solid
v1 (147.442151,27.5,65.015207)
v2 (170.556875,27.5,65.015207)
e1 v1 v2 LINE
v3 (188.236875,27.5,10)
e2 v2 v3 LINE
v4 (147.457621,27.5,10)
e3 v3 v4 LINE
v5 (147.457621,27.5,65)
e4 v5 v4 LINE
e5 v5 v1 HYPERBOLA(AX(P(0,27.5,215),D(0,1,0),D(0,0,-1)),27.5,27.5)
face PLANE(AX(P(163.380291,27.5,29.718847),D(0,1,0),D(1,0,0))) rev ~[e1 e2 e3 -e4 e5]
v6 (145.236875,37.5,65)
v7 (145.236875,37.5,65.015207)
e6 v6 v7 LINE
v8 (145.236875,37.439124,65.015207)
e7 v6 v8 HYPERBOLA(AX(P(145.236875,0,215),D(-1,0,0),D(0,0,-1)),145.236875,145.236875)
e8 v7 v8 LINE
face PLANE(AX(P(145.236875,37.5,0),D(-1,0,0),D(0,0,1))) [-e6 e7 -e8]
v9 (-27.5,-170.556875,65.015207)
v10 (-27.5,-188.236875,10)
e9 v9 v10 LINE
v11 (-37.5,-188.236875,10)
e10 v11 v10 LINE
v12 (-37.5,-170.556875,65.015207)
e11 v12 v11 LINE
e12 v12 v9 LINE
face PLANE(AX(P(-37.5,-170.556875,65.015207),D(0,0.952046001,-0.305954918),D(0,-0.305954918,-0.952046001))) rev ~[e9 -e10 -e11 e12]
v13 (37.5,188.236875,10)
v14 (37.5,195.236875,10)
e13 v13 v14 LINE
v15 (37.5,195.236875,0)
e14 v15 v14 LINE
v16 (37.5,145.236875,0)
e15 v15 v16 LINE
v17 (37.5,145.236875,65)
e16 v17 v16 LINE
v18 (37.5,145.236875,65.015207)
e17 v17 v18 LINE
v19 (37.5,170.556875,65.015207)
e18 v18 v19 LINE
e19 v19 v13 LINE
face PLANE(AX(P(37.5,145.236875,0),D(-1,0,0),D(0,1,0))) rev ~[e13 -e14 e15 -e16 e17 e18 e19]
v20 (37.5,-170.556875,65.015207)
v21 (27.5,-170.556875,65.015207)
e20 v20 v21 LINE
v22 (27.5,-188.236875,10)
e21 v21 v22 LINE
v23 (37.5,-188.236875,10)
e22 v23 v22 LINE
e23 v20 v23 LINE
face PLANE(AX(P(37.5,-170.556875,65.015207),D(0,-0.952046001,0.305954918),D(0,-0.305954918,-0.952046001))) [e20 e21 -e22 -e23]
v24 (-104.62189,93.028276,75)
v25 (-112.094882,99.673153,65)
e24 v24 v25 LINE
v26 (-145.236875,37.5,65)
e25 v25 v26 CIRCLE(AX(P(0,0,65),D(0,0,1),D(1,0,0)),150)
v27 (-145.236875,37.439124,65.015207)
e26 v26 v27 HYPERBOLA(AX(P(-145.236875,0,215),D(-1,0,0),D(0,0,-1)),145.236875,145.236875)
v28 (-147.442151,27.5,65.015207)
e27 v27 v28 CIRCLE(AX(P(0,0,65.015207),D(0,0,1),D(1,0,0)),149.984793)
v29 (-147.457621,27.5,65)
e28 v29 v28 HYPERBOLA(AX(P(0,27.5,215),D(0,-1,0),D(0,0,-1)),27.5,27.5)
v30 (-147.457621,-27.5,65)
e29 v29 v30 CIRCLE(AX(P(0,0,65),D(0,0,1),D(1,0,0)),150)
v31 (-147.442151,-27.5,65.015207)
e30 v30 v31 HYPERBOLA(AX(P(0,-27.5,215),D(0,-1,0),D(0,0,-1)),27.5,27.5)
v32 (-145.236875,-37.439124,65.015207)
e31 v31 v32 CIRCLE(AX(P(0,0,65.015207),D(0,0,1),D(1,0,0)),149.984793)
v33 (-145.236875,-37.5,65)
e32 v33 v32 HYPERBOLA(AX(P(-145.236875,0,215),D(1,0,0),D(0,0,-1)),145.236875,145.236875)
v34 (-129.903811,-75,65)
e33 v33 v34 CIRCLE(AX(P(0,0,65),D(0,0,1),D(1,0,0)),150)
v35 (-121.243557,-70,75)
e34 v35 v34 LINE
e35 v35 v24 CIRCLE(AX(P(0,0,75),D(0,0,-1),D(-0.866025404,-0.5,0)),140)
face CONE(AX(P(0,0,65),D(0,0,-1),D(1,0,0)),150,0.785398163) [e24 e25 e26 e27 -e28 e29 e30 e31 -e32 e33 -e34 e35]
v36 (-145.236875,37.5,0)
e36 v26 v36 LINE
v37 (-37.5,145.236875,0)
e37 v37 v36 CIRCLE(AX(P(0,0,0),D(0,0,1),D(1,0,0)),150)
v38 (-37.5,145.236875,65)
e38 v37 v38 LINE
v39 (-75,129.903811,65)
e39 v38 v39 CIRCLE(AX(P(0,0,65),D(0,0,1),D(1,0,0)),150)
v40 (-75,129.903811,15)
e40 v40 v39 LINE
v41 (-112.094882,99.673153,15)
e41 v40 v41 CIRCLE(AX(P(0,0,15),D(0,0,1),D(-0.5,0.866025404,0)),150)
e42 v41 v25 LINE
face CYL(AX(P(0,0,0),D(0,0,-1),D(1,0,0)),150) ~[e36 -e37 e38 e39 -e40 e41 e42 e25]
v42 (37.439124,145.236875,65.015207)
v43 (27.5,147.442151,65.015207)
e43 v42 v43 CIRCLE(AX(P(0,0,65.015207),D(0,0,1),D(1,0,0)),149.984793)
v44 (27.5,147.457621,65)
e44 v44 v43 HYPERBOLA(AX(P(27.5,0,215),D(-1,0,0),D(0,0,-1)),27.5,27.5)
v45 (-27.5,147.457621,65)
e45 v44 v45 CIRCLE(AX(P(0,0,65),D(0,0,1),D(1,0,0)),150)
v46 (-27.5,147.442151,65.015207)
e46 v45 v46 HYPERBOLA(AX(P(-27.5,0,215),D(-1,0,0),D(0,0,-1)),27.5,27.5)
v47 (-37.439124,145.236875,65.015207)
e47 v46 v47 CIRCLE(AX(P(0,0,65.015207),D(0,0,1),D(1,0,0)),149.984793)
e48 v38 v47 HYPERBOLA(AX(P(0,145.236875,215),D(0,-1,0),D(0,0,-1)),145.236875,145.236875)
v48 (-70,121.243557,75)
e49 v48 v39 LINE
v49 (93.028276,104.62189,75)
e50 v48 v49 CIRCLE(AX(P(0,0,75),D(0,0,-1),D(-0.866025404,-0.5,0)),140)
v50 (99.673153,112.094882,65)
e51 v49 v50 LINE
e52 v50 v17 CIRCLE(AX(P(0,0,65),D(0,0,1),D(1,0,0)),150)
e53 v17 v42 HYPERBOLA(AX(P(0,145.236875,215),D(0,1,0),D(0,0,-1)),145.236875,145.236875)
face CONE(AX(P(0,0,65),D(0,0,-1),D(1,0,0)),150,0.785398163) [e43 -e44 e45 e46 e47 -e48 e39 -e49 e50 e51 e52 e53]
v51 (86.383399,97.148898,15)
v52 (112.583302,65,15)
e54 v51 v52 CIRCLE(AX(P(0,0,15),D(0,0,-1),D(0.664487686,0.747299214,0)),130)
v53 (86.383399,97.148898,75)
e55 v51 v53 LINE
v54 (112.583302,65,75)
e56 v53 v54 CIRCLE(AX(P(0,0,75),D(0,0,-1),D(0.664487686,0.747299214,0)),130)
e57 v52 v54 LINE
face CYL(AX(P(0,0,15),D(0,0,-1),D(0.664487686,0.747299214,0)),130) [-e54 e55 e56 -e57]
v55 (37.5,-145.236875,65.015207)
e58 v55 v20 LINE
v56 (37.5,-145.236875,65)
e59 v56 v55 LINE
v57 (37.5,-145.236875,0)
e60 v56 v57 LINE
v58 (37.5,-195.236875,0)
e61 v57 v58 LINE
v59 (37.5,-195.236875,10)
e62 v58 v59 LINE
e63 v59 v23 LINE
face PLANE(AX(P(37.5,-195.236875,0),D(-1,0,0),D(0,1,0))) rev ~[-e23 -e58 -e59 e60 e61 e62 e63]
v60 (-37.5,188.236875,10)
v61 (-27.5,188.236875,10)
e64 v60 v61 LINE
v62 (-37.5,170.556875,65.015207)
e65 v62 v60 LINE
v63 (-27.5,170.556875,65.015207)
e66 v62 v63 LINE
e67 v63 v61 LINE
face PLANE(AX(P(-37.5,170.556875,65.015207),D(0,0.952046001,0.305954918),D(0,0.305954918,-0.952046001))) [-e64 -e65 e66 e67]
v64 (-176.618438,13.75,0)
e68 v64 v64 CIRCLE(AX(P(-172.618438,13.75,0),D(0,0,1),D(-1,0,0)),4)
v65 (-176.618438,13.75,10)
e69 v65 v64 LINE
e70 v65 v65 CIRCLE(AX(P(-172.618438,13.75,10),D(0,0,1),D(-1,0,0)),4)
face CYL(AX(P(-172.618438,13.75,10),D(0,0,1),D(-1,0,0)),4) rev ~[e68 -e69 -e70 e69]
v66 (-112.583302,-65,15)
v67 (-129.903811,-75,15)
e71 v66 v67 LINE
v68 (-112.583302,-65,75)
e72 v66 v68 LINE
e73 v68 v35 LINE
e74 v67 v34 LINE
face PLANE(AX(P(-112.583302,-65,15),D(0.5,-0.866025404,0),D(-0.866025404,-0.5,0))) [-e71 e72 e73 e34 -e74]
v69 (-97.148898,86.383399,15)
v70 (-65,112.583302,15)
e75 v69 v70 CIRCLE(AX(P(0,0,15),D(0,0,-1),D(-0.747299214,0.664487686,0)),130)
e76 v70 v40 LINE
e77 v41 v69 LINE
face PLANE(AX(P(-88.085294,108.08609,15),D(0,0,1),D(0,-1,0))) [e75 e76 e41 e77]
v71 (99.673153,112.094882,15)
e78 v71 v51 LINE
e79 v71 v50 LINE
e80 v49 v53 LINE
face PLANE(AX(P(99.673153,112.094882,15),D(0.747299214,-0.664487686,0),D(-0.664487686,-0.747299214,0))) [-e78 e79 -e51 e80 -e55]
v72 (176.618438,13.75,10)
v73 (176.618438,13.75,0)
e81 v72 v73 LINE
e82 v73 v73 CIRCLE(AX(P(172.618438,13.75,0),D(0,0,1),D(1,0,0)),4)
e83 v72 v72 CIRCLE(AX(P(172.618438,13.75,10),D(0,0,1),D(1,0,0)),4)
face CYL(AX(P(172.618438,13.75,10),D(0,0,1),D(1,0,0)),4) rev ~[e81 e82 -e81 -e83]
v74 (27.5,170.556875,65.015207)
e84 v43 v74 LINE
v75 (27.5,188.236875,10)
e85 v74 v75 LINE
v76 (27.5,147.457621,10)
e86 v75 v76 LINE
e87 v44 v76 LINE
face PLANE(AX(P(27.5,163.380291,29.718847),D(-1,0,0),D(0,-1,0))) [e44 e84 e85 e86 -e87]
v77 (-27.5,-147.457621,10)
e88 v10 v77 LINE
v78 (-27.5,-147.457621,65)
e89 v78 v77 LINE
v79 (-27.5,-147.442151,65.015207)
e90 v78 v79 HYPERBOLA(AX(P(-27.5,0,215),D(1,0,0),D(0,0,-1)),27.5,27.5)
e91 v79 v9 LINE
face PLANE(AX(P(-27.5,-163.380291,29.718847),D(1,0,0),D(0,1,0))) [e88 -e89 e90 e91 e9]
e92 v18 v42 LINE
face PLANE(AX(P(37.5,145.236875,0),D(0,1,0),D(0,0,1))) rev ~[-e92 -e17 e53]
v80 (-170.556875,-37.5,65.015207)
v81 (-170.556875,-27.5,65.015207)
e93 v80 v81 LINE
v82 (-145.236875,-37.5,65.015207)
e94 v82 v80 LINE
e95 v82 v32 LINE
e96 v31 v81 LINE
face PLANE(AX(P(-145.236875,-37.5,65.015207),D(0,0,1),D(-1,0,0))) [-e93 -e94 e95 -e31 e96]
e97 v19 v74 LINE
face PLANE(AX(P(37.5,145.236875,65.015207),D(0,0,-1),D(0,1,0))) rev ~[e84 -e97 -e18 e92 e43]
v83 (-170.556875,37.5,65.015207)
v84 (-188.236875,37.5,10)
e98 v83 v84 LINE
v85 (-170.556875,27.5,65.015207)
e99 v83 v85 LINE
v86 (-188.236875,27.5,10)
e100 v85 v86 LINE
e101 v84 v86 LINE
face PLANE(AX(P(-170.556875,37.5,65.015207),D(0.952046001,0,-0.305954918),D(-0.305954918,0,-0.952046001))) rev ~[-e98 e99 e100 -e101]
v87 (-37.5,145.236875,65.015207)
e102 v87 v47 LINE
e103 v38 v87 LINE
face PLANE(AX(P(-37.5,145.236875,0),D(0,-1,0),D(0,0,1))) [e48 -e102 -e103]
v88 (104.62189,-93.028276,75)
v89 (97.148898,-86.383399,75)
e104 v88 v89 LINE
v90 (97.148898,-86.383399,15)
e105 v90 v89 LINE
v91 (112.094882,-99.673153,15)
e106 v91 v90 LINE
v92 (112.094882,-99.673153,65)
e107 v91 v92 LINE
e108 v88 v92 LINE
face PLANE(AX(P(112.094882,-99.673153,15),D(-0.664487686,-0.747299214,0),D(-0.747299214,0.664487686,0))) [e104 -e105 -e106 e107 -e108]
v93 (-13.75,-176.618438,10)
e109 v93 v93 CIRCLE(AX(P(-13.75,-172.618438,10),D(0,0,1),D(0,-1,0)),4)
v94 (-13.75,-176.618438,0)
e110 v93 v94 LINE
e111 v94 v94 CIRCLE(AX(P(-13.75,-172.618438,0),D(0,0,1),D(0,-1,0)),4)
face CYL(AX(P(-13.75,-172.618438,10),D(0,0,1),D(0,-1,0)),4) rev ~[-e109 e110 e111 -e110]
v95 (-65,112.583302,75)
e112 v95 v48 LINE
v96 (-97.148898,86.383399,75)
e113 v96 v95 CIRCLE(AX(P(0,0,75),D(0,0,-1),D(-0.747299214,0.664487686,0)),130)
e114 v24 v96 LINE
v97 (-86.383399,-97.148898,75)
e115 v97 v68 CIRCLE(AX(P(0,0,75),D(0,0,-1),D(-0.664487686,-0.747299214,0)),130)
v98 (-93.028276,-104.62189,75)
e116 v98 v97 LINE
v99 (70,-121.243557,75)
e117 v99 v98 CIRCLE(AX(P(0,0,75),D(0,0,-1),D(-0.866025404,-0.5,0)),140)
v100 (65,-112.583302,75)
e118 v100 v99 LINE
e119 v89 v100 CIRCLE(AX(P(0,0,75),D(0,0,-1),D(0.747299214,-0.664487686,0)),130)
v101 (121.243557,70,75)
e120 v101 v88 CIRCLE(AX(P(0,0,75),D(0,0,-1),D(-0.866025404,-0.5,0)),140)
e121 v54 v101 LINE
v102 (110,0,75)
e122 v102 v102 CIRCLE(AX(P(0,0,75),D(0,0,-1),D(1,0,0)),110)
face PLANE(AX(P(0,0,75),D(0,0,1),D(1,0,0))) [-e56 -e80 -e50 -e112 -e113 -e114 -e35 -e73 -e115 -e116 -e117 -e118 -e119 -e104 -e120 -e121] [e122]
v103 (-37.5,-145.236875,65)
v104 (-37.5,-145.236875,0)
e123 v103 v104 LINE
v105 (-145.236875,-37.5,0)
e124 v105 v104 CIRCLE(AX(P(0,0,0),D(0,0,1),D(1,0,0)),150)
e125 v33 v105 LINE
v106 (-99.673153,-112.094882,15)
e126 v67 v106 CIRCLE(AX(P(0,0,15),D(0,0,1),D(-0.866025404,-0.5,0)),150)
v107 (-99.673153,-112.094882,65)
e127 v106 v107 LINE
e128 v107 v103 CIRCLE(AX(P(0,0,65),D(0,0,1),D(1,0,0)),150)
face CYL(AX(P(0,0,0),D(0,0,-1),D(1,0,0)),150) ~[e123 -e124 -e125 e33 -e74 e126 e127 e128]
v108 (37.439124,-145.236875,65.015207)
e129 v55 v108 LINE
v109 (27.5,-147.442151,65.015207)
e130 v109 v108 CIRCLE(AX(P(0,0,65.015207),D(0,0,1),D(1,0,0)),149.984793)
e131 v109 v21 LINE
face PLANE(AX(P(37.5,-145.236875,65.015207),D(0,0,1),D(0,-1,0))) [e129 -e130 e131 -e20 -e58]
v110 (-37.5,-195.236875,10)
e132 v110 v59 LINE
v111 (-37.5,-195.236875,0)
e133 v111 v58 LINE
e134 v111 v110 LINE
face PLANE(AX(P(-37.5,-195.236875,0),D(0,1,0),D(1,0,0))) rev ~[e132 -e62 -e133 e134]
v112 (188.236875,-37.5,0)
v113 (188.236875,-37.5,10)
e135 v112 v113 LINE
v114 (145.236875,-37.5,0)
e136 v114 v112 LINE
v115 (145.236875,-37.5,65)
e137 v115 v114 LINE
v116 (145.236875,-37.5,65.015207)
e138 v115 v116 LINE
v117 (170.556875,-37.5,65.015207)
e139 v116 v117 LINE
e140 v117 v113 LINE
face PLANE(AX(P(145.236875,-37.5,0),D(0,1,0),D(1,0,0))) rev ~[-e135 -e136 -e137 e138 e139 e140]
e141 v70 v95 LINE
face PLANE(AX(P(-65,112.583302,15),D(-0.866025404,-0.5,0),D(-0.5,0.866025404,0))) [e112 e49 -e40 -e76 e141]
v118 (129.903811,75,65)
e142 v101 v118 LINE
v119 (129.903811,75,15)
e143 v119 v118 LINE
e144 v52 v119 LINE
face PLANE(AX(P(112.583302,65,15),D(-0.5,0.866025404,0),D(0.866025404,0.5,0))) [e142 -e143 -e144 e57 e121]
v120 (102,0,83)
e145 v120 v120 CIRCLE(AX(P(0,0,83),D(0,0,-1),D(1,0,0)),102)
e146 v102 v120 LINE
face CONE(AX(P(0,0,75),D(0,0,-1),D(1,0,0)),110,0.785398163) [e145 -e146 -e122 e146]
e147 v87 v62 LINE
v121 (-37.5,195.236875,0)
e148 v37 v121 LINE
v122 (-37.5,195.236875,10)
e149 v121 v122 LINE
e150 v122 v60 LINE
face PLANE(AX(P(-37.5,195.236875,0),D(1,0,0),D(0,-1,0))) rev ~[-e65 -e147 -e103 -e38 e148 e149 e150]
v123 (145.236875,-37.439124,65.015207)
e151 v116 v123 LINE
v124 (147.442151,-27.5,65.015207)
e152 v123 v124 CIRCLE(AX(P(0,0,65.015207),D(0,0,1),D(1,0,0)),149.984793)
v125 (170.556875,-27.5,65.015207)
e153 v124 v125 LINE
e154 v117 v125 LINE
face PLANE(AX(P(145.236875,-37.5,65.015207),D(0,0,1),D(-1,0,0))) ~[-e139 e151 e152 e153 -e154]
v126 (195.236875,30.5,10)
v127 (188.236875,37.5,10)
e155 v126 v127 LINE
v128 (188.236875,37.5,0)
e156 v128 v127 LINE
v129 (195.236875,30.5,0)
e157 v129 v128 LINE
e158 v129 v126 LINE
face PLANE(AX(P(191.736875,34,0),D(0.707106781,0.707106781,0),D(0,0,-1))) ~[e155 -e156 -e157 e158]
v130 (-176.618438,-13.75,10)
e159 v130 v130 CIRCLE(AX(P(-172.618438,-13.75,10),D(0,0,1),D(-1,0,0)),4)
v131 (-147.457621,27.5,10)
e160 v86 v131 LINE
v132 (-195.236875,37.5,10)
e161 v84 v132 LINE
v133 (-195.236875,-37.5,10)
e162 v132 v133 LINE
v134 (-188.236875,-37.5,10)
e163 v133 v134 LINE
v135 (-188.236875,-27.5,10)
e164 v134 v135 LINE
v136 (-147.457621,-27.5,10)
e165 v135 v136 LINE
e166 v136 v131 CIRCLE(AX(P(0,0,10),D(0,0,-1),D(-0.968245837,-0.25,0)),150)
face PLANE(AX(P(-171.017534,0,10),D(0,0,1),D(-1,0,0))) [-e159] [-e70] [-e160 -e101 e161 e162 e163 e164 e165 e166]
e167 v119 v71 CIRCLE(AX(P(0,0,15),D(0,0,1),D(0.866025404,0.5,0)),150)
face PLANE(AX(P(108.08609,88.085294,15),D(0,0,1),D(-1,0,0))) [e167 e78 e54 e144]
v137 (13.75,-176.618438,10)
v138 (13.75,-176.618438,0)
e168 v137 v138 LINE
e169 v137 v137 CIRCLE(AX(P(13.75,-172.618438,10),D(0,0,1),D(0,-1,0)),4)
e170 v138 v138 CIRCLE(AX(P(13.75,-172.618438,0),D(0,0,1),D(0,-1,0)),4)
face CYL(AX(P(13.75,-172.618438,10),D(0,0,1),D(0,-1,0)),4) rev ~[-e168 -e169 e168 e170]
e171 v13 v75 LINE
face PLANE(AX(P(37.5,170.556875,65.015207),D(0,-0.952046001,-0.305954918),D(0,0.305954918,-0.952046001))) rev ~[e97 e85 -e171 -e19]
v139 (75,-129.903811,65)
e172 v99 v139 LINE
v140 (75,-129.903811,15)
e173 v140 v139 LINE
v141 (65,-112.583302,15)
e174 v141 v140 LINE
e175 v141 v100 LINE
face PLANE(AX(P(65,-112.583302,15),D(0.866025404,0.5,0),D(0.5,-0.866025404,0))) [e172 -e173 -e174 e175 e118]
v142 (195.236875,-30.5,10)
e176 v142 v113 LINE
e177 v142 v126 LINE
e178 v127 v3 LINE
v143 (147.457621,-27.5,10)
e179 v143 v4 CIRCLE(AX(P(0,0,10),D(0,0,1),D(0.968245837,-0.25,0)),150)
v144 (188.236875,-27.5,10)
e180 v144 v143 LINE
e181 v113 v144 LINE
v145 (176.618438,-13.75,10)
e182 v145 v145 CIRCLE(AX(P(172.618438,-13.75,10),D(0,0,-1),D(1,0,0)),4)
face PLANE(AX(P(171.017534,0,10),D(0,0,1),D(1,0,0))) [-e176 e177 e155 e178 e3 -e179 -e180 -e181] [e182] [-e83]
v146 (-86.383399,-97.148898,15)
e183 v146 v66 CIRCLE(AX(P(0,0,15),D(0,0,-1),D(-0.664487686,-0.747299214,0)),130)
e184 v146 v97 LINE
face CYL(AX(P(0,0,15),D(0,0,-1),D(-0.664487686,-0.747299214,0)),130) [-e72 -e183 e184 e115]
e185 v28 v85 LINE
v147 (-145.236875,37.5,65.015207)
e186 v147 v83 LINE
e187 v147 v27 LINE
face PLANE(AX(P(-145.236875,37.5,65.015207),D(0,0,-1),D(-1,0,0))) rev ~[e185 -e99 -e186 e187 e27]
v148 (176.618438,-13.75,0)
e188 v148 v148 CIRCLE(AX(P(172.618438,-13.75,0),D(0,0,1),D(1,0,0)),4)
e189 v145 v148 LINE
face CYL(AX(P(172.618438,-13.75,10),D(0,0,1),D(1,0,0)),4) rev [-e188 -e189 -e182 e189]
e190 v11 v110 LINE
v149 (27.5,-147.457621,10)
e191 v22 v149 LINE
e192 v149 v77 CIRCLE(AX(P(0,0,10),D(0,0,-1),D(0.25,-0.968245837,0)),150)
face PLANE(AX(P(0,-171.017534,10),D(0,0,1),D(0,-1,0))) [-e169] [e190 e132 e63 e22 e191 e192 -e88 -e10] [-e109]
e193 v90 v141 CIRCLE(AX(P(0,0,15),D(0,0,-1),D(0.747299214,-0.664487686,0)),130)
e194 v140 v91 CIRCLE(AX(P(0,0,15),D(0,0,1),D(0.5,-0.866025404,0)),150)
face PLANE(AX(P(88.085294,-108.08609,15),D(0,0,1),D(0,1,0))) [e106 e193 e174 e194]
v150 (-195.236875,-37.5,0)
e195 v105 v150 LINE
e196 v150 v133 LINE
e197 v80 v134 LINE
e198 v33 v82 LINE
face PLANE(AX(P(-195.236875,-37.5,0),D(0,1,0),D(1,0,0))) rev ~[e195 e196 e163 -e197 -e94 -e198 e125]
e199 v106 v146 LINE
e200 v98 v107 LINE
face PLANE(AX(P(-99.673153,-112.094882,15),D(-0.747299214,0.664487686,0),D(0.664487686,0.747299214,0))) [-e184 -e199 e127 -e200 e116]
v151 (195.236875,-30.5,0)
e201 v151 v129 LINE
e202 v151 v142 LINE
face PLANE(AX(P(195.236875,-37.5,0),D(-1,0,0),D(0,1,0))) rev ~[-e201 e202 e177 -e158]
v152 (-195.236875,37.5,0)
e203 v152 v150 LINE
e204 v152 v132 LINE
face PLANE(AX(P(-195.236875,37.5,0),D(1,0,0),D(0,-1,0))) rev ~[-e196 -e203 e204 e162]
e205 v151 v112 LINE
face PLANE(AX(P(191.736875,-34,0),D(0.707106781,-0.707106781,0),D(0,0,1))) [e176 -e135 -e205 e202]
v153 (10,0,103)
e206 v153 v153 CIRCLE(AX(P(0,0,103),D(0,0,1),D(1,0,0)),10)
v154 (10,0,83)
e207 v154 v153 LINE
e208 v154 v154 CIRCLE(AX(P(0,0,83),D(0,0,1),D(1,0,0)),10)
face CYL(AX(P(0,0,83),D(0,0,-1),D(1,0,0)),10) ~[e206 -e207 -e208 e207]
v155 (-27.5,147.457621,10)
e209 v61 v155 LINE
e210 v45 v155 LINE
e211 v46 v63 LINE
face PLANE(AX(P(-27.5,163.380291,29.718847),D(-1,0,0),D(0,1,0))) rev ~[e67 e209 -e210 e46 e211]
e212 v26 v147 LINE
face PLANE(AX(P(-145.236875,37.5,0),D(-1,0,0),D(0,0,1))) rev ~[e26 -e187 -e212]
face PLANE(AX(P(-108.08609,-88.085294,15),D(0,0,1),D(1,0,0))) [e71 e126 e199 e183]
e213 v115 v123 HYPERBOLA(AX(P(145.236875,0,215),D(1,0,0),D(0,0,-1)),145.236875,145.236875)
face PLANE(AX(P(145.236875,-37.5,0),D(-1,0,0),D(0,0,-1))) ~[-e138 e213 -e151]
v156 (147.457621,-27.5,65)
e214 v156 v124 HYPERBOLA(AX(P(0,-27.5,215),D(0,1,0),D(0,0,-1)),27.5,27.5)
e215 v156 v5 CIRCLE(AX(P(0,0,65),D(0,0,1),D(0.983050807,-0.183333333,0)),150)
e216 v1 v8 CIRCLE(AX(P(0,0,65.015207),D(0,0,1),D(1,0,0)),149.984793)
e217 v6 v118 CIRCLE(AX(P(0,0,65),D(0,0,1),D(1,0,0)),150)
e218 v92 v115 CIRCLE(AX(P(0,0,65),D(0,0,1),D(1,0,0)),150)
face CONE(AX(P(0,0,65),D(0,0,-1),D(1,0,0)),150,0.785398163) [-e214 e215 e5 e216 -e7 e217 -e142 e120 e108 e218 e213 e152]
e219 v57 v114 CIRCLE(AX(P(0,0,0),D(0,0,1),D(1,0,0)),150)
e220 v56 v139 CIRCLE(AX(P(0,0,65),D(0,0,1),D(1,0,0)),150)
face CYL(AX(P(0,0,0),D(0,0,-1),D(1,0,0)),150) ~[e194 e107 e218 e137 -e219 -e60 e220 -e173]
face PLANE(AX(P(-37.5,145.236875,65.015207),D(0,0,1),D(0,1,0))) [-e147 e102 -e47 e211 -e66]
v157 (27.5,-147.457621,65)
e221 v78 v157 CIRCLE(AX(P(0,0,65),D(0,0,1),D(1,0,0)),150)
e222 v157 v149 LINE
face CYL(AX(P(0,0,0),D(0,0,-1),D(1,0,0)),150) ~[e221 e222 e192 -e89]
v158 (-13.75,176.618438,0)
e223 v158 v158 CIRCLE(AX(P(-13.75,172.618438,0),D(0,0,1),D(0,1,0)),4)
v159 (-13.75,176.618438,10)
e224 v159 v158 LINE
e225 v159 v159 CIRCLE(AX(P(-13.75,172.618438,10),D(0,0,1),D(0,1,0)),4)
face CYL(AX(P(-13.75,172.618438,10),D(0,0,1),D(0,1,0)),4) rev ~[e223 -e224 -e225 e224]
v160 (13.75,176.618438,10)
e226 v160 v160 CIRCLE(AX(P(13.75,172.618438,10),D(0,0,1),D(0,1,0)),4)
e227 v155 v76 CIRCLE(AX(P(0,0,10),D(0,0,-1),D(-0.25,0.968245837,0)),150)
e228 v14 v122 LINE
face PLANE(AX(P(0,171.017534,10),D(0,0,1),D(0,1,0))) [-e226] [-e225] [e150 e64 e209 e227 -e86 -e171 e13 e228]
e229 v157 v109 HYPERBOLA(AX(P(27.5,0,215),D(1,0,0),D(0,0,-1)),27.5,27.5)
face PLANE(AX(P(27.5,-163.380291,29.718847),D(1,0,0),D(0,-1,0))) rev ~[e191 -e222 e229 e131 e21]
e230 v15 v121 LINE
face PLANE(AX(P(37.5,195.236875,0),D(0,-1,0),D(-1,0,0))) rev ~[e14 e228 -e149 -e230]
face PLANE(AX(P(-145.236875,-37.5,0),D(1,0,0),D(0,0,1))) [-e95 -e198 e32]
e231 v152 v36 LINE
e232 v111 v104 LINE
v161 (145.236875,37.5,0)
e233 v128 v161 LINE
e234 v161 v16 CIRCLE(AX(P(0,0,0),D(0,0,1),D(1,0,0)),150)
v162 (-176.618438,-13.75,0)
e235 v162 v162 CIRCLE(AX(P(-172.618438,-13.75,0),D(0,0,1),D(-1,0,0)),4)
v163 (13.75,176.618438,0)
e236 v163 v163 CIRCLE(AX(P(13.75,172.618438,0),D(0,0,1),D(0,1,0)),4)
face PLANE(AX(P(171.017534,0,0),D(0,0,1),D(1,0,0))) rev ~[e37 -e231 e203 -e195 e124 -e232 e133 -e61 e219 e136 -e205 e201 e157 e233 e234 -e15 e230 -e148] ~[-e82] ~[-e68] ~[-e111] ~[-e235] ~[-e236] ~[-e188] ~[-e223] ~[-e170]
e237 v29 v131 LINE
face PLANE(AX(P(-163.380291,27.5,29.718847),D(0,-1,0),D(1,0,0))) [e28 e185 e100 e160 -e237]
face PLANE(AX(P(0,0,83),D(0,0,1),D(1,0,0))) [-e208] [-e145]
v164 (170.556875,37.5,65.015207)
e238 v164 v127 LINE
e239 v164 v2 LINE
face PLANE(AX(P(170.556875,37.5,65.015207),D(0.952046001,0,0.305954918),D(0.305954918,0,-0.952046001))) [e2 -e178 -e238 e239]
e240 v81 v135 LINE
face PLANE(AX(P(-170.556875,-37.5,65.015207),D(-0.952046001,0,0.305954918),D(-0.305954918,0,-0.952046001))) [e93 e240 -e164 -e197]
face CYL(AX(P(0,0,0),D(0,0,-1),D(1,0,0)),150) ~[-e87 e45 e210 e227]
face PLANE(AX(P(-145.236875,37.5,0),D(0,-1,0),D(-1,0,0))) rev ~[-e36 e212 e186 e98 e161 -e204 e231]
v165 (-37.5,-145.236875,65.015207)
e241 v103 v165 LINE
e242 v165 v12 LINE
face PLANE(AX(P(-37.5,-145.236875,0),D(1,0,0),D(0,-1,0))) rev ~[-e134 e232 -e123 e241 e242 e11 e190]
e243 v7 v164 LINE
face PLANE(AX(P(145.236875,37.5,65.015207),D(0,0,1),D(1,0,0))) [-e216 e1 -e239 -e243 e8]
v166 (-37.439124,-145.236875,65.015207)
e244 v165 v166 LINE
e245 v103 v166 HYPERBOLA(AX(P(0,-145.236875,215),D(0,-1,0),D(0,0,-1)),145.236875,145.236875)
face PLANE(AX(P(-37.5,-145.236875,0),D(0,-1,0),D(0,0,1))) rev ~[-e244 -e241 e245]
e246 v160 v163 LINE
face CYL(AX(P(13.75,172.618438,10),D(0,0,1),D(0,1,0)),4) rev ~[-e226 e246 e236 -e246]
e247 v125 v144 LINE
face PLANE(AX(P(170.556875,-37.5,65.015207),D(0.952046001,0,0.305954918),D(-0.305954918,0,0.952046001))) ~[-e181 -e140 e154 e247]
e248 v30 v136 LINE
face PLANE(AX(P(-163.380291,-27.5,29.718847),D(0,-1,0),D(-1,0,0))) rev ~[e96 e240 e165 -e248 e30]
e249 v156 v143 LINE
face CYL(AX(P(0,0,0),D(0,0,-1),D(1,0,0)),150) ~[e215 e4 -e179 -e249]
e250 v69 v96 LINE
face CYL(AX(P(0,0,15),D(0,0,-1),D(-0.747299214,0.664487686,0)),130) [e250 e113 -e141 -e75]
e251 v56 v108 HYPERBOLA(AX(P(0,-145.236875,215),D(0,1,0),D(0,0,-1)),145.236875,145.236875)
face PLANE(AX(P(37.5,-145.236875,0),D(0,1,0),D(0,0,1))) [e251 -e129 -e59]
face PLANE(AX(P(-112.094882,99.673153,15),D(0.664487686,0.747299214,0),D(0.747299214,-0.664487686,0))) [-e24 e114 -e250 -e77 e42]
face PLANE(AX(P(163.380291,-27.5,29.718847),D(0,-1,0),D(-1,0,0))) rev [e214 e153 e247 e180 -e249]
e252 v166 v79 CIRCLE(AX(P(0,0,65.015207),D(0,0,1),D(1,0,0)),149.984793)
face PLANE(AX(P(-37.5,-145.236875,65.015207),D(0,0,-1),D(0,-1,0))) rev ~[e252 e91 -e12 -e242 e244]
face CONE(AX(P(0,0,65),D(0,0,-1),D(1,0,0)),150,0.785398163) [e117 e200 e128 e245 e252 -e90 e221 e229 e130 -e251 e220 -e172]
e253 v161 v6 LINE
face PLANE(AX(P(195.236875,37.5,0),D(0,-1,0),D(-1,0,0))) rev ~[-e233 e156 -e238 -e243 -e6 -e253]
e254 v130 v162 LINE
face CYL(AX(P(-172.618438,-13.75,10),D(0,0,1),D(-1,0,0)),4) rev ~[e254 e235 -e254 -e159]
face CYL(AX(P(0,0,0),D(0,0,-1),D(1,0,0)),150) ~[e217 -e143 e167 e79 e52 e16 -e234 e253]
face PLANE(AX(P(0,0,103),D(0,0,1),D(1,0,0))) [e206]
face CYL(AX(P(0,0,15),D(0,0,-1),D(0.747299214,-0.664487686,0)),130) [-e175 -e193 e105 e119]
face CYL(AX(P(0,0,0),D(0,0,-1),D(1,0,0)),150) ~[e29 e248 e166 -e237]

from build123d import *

# Parameters (mm, degrees)
IZIM1_R                           = 150
Y_KSEKLIK_EKSTR_ZYON1_DEPTH       = 75
PAH1_SIZE                         = 10
Y_KSEKLIK_EKSTR_ZYON2_START       = -75
Y_KSEKLIK_EKSTR_ZYON2_DEPTH       = 10
PAH2_SIZE                         = 7
Y_KSEKLIK_EKSTR_ZYON3_DEPTH       = 10
IZIM8_R                           = 4
KES_EKSTR_ZYON1_DEPTH             = 255.641782801
DAIRESEL_KAPLAMA1_COUNT           = 4
DAIRESEL_KAPLAMA1_COPY_1_DEPTH    = 10
DAIRESEL_KAPLAMA1_COPY_2_DEPTH    = 10
DAIRESEL_KAPLAMA1_COPY_3_DEPTH    = 10
DAIRESEL_KAPLAMA1_COPY_4_SKETCH_R = 4
DAIRESEL_KAPLAMA1_COPY_4_DEPTH    = 255.641782801
DAIRESEL_KAPLAMA1_COPY_5_SKETCH_R = 4
DAIRESEL_KAPLAMA1_COPY_5_DEPTH    = 255.641782801
DAIRESEL_KAPLAMA1_COPY_6_SKETCH_R = 4
DAIRESEL_KAPLAMA1_COPY_6_DEPTH    = 255.641782801
KES_EKSTR_ZYON2_START             = -60
KES_EKSTR_ZYON2_DEPTH             = 60
DAIRESEL_KAPLAMA2_COUNT           = 4
IZIM10_R                          = 110
Y_KSEKLIK_EKSTR_ZYON4_DEPTH       = 8
Y_KSEKLIK_EKSTR_ZYON4_TAPER       = 45
IZIM11_R                          = 10
Y_KSEKLIK_EKSTR_ZYON5_DEPTH       = 20


with BuildPart() as part:
    # Çizim1 → Yükseklik-Ekstrüzyon1 (new body)
    with BuildSketch(Plane.XY):
        Circle(IZIM1_R)
    extrude(amount=Y_KSEKLIK_EKSTR_ZYON1_DEPTH)

    # Pah1
    pah1_edges = [part.edges().sort_by_distance(p)[0] for p in [
        (-150, 0, 75),
    ]]
    chamfer(pah1_edges, length=PAH1_SIZE)

    # Çizim4 → Yükseklik-Ekstrüzyon2 (add)
    with BuildSketch(Plane.XY.offset(75).offset(Y_KSEKLIK_EKSTR_ZYON2_START)):
        with BuildLine():
            Line((195.236875483, -37.5), (195.236875483, 37.5))
            Line((195.236875483, 37.5), (145.236875483, 37.5))
            ThreePointArc((145.236875483, 37.5), (150, 0), (145.236875483, -37.5))
            Line((145.236875483, -37.5), (195.236875483, -37.5))
        make_face()
    y_kseklik_ekstr_zyon2 = extrude(amount=Y_KSEKLIK_EKSTR_ZYON2_DEPTH)

    # Pah2
    pah2_edges = [part.edges().sort_by_distance(p)[0] for p in [
        (195.236875483, -37.5, 5),
        (195.236875483, 37.5, 5),
    ]]
    chamfer(pah2_edges, length=PAH2_SIZE)

    # Çizim7 → Yükseklik-Ekstrüzyon3 (add)
    with BuildSketch(Plane(origin=(0, 37.5, 0), x_dir=(1, 0, 0), z_dir=(0, 1, 0))):
        Polygon((145.236875483, 0), (145.236875483, -65.015207496), (170.556875483, -65.015207496), (188.236875483, -10), (188.236875483, 0), align=None)
    y_kseklik_ekstr_zyon3 = extrude(amount=-Y_KSEKLIK_EKSTR_ZYON3_DEPTH)

    # Çizim8 → Kes-Ekstrüzyon1 (cut, through all)
    with BuildSketch(Plane.XY.offset(10)):
        with Locations((172.618437741, 13.75)):
            Circle(IZIM8_R)
    kes_ekstr_zyon1 = extrude(amount=-KES_EKSTR_ZYON1_DEPTH, mode=Mode.SUBTRACT)

    # Aynalama1: Yükseklik-Ekstrüzyon3, Kes-Ekstrüzyon1 across plane
    add(y_kseklik_ekstr_zyon3.mirror(Plane.ZX))
    add(kes_ekstr_zyon1.mirror(Plane.ZX), mode=Mode.SUBTRACT)

    # Dairesel Kaplama1: Yükseklik-Ekstrüzyon2, Yükseklik-Ekstrüzyon3, Kes-Ekstrüzyon1 ×4 about axis
    dairesel_kaplama1_axis = Axis((0, 0, 0), (0, 0, 1))
    add([y_kseklik_ekstr_zyon2.rotate(dairesel_kaplama1_axis, i * 360 / DAIRESEL_KAPLAMA1_COUNT) for i in range(1, DAIRESEL_KAPLAMA1_COUNT)])
    add([y_kseklik_ekstr_zyon3.rotate(dairesel_kaplama1_axis, i * 360 / DAIRESEL_KAPLAMA1_COUNT) for i in range(1, DAIRESEL_KAPLAMA1_COUNT)])
    add([kes_ekstr_zyon1.rotate(dairesel_kaplama1_axis, i * 360 / DAIRESEL_KAPLAMA1_COUNT) for i in range(1, DAIRESEL_KAPLAMA1_COUNT)], mode=Mode.SUBTRACT)

    # Dairesel Kaplama1 copy 1 sketch → Dairesel Kaplama1 copy 1 (add)
    with BuildSketch(Plane.YZ.offset(37.5)):
        Polygon((145.236875483, 0), (145.236875483, 65.015207496), (170.556875483, 65.015207496), (188.236875483, 10), (188.236875483, 0), align=None)
    extrude(amount=-DAIRESEL_KAPLAMA1_COPY_1_DEPTH)

    # Dairesel Kaplama1 copy 2 sketch → Dairesel Kaplama1 copy 2 (add)
    with BuildSketch(Plane(origin=(0, 37.5, 0), x_dir=(-1, 0, 0), z_dir=(0, 1, 0))):
        Polygon((145.236875483, 0), (145.236875483, 65.015207496), (170.556875483, 65.015207496), (188.236875483, 10), (188.236875483, 0), align=None)
    extrude(amount=-DAIRESEL_KAPLAMA1_COPY_2_DEPTH)

    # Dairesel Kaplama1 copy 3 sketch → Dairesel Kaplama1 copy 3 (add)
    with BuildSketch(Plane(origin=(-37.5, 0, 0), x_dir=(0, -1, 0), z_dir=(-1, 0, 0))):
        Polygon((145.236875483, 0), (145.236875483, 65.015207496), (170.556875483, 65.015207496), (188.236875483, 10), (188.236875483, 0), align=None)
    extrude(amount=-DAIRESEL_KAPLAMA1_COPY_3_DEPTH)

    # Dairesel Kaplama1 copy 4 sketch → Dairesel Kaplama1 copy 4 (cut, through all)
    with BuildSketch(Plane(origin=(0, 0, 10), x_dir=(0, 1, 0), z_dir=(0, 0, 1))):
        with Locations((172.618437741, -13.75)):
            Circle(DAIRESEL_KAPLAMA1_COPY_4_SKETCH_R)
    extrude(amount=-DAIRESEL_KAPLAMA1_COPY_4_DEPTH, mode=Mode.SUBTRACT)

    # Dairesel Kaplama1 copy 5 sketch → Dairesel Kaplama1 copy 5 (cut, through all)
    with BuildSketch(Plane(origin=(0, 0, 10), x_dir=(-1, 0, 0), z_dir=(0, 0, 1))):
        with Locations((172.618437741, -13.75)):
            Circle(DAIRESEL_KAPLAMA1_COPY_5_SKETCH_R)
    extrude(amount=-DAIRESEL_KAPLAMA1_COPY_5_DEPTH, mode=Mode.SUBTRACT)

    # Dairesel Kaplama1 copy 6 sketch → Dairesel Kaplama1 copy 6 (cut, through all)
    with BuildSketch(Plane(origin=(0, 0, 10), x_dir=(0, -1, 0), z_dir=(0, 0, 1))):
        with Locations((172.618437741, -13.75)):
            Circle(DAIRESEL_KAPLAMA1_COPY_6_SKETCH_R)
    extrude(amount=-DAIRESEL_KAPLAMA1_COPY_6_DEPTH, mode=Mode.SUBTRACT)

    # Çizim9 → Kes-Ekstrüzyon2 (cut)
    with BuildSketch(Plane.XY.offset(75).offset(KES_EKSTR_ZYON2_START)):
        with BuildLine():
            Line((-112.583302492, -65), (-129.903810568, -75))
            ThreePointArc((-129.903810568, -75), (-116.277268219, -94.760734988), (-99.673152863, -112.094882124))
            Line((-99.673152863, -112.094882124), (-86.383399148, -97.148897841))
            ThreePointArc((-86.383399148, -97.148897841), (-100.773632456, -82.125970323), (-112.583302492, -65))
        make_face()
    kes_ekstr_zyon2 = extrude(amount=KES_EKSTR_ZYON2_DEPTH, mode=Mode.SUBTRACT)

    # Dairesel Kaplama2: Kes-Ekstrüzyon2 ×4 about axis
    dairesel_kaplama2_axis = Axis((0, 0, 75), (0, 0, 1))
    for i in range(1, DAIRESEL_KAPLAMA2_COUNT):
        add(kes_ekstr_zyon2.rotate(dairesel_kaplama2_axis, i * 360 / DAIRESEL_KAPLAMA2_COUNT), mode=Mode.SUBTRACT)

    # Çizim10 → Yükseklik-Ekstrüzyon4 (add)
    with BuildSketch(Plane.XY.offset(75)):
        Circle(IZIM10_R)
    extrude(amount=Y_KSEKLIK_EKSTR_ZYON4_DEPTH, taper=Y_KSEKLIK_EKSTR_ZYON4_TAPER)

    # Çizim11 → Yükseklik-Ekstrüzyon5 (add)
    with BuildSketch(Plane.XY.offset(83)):
        Circle(IZIM11_R)
    extrude(amount=Y_KSEKLIK_EKSTR_ZYON5_DEPTH)


solid = part.part
